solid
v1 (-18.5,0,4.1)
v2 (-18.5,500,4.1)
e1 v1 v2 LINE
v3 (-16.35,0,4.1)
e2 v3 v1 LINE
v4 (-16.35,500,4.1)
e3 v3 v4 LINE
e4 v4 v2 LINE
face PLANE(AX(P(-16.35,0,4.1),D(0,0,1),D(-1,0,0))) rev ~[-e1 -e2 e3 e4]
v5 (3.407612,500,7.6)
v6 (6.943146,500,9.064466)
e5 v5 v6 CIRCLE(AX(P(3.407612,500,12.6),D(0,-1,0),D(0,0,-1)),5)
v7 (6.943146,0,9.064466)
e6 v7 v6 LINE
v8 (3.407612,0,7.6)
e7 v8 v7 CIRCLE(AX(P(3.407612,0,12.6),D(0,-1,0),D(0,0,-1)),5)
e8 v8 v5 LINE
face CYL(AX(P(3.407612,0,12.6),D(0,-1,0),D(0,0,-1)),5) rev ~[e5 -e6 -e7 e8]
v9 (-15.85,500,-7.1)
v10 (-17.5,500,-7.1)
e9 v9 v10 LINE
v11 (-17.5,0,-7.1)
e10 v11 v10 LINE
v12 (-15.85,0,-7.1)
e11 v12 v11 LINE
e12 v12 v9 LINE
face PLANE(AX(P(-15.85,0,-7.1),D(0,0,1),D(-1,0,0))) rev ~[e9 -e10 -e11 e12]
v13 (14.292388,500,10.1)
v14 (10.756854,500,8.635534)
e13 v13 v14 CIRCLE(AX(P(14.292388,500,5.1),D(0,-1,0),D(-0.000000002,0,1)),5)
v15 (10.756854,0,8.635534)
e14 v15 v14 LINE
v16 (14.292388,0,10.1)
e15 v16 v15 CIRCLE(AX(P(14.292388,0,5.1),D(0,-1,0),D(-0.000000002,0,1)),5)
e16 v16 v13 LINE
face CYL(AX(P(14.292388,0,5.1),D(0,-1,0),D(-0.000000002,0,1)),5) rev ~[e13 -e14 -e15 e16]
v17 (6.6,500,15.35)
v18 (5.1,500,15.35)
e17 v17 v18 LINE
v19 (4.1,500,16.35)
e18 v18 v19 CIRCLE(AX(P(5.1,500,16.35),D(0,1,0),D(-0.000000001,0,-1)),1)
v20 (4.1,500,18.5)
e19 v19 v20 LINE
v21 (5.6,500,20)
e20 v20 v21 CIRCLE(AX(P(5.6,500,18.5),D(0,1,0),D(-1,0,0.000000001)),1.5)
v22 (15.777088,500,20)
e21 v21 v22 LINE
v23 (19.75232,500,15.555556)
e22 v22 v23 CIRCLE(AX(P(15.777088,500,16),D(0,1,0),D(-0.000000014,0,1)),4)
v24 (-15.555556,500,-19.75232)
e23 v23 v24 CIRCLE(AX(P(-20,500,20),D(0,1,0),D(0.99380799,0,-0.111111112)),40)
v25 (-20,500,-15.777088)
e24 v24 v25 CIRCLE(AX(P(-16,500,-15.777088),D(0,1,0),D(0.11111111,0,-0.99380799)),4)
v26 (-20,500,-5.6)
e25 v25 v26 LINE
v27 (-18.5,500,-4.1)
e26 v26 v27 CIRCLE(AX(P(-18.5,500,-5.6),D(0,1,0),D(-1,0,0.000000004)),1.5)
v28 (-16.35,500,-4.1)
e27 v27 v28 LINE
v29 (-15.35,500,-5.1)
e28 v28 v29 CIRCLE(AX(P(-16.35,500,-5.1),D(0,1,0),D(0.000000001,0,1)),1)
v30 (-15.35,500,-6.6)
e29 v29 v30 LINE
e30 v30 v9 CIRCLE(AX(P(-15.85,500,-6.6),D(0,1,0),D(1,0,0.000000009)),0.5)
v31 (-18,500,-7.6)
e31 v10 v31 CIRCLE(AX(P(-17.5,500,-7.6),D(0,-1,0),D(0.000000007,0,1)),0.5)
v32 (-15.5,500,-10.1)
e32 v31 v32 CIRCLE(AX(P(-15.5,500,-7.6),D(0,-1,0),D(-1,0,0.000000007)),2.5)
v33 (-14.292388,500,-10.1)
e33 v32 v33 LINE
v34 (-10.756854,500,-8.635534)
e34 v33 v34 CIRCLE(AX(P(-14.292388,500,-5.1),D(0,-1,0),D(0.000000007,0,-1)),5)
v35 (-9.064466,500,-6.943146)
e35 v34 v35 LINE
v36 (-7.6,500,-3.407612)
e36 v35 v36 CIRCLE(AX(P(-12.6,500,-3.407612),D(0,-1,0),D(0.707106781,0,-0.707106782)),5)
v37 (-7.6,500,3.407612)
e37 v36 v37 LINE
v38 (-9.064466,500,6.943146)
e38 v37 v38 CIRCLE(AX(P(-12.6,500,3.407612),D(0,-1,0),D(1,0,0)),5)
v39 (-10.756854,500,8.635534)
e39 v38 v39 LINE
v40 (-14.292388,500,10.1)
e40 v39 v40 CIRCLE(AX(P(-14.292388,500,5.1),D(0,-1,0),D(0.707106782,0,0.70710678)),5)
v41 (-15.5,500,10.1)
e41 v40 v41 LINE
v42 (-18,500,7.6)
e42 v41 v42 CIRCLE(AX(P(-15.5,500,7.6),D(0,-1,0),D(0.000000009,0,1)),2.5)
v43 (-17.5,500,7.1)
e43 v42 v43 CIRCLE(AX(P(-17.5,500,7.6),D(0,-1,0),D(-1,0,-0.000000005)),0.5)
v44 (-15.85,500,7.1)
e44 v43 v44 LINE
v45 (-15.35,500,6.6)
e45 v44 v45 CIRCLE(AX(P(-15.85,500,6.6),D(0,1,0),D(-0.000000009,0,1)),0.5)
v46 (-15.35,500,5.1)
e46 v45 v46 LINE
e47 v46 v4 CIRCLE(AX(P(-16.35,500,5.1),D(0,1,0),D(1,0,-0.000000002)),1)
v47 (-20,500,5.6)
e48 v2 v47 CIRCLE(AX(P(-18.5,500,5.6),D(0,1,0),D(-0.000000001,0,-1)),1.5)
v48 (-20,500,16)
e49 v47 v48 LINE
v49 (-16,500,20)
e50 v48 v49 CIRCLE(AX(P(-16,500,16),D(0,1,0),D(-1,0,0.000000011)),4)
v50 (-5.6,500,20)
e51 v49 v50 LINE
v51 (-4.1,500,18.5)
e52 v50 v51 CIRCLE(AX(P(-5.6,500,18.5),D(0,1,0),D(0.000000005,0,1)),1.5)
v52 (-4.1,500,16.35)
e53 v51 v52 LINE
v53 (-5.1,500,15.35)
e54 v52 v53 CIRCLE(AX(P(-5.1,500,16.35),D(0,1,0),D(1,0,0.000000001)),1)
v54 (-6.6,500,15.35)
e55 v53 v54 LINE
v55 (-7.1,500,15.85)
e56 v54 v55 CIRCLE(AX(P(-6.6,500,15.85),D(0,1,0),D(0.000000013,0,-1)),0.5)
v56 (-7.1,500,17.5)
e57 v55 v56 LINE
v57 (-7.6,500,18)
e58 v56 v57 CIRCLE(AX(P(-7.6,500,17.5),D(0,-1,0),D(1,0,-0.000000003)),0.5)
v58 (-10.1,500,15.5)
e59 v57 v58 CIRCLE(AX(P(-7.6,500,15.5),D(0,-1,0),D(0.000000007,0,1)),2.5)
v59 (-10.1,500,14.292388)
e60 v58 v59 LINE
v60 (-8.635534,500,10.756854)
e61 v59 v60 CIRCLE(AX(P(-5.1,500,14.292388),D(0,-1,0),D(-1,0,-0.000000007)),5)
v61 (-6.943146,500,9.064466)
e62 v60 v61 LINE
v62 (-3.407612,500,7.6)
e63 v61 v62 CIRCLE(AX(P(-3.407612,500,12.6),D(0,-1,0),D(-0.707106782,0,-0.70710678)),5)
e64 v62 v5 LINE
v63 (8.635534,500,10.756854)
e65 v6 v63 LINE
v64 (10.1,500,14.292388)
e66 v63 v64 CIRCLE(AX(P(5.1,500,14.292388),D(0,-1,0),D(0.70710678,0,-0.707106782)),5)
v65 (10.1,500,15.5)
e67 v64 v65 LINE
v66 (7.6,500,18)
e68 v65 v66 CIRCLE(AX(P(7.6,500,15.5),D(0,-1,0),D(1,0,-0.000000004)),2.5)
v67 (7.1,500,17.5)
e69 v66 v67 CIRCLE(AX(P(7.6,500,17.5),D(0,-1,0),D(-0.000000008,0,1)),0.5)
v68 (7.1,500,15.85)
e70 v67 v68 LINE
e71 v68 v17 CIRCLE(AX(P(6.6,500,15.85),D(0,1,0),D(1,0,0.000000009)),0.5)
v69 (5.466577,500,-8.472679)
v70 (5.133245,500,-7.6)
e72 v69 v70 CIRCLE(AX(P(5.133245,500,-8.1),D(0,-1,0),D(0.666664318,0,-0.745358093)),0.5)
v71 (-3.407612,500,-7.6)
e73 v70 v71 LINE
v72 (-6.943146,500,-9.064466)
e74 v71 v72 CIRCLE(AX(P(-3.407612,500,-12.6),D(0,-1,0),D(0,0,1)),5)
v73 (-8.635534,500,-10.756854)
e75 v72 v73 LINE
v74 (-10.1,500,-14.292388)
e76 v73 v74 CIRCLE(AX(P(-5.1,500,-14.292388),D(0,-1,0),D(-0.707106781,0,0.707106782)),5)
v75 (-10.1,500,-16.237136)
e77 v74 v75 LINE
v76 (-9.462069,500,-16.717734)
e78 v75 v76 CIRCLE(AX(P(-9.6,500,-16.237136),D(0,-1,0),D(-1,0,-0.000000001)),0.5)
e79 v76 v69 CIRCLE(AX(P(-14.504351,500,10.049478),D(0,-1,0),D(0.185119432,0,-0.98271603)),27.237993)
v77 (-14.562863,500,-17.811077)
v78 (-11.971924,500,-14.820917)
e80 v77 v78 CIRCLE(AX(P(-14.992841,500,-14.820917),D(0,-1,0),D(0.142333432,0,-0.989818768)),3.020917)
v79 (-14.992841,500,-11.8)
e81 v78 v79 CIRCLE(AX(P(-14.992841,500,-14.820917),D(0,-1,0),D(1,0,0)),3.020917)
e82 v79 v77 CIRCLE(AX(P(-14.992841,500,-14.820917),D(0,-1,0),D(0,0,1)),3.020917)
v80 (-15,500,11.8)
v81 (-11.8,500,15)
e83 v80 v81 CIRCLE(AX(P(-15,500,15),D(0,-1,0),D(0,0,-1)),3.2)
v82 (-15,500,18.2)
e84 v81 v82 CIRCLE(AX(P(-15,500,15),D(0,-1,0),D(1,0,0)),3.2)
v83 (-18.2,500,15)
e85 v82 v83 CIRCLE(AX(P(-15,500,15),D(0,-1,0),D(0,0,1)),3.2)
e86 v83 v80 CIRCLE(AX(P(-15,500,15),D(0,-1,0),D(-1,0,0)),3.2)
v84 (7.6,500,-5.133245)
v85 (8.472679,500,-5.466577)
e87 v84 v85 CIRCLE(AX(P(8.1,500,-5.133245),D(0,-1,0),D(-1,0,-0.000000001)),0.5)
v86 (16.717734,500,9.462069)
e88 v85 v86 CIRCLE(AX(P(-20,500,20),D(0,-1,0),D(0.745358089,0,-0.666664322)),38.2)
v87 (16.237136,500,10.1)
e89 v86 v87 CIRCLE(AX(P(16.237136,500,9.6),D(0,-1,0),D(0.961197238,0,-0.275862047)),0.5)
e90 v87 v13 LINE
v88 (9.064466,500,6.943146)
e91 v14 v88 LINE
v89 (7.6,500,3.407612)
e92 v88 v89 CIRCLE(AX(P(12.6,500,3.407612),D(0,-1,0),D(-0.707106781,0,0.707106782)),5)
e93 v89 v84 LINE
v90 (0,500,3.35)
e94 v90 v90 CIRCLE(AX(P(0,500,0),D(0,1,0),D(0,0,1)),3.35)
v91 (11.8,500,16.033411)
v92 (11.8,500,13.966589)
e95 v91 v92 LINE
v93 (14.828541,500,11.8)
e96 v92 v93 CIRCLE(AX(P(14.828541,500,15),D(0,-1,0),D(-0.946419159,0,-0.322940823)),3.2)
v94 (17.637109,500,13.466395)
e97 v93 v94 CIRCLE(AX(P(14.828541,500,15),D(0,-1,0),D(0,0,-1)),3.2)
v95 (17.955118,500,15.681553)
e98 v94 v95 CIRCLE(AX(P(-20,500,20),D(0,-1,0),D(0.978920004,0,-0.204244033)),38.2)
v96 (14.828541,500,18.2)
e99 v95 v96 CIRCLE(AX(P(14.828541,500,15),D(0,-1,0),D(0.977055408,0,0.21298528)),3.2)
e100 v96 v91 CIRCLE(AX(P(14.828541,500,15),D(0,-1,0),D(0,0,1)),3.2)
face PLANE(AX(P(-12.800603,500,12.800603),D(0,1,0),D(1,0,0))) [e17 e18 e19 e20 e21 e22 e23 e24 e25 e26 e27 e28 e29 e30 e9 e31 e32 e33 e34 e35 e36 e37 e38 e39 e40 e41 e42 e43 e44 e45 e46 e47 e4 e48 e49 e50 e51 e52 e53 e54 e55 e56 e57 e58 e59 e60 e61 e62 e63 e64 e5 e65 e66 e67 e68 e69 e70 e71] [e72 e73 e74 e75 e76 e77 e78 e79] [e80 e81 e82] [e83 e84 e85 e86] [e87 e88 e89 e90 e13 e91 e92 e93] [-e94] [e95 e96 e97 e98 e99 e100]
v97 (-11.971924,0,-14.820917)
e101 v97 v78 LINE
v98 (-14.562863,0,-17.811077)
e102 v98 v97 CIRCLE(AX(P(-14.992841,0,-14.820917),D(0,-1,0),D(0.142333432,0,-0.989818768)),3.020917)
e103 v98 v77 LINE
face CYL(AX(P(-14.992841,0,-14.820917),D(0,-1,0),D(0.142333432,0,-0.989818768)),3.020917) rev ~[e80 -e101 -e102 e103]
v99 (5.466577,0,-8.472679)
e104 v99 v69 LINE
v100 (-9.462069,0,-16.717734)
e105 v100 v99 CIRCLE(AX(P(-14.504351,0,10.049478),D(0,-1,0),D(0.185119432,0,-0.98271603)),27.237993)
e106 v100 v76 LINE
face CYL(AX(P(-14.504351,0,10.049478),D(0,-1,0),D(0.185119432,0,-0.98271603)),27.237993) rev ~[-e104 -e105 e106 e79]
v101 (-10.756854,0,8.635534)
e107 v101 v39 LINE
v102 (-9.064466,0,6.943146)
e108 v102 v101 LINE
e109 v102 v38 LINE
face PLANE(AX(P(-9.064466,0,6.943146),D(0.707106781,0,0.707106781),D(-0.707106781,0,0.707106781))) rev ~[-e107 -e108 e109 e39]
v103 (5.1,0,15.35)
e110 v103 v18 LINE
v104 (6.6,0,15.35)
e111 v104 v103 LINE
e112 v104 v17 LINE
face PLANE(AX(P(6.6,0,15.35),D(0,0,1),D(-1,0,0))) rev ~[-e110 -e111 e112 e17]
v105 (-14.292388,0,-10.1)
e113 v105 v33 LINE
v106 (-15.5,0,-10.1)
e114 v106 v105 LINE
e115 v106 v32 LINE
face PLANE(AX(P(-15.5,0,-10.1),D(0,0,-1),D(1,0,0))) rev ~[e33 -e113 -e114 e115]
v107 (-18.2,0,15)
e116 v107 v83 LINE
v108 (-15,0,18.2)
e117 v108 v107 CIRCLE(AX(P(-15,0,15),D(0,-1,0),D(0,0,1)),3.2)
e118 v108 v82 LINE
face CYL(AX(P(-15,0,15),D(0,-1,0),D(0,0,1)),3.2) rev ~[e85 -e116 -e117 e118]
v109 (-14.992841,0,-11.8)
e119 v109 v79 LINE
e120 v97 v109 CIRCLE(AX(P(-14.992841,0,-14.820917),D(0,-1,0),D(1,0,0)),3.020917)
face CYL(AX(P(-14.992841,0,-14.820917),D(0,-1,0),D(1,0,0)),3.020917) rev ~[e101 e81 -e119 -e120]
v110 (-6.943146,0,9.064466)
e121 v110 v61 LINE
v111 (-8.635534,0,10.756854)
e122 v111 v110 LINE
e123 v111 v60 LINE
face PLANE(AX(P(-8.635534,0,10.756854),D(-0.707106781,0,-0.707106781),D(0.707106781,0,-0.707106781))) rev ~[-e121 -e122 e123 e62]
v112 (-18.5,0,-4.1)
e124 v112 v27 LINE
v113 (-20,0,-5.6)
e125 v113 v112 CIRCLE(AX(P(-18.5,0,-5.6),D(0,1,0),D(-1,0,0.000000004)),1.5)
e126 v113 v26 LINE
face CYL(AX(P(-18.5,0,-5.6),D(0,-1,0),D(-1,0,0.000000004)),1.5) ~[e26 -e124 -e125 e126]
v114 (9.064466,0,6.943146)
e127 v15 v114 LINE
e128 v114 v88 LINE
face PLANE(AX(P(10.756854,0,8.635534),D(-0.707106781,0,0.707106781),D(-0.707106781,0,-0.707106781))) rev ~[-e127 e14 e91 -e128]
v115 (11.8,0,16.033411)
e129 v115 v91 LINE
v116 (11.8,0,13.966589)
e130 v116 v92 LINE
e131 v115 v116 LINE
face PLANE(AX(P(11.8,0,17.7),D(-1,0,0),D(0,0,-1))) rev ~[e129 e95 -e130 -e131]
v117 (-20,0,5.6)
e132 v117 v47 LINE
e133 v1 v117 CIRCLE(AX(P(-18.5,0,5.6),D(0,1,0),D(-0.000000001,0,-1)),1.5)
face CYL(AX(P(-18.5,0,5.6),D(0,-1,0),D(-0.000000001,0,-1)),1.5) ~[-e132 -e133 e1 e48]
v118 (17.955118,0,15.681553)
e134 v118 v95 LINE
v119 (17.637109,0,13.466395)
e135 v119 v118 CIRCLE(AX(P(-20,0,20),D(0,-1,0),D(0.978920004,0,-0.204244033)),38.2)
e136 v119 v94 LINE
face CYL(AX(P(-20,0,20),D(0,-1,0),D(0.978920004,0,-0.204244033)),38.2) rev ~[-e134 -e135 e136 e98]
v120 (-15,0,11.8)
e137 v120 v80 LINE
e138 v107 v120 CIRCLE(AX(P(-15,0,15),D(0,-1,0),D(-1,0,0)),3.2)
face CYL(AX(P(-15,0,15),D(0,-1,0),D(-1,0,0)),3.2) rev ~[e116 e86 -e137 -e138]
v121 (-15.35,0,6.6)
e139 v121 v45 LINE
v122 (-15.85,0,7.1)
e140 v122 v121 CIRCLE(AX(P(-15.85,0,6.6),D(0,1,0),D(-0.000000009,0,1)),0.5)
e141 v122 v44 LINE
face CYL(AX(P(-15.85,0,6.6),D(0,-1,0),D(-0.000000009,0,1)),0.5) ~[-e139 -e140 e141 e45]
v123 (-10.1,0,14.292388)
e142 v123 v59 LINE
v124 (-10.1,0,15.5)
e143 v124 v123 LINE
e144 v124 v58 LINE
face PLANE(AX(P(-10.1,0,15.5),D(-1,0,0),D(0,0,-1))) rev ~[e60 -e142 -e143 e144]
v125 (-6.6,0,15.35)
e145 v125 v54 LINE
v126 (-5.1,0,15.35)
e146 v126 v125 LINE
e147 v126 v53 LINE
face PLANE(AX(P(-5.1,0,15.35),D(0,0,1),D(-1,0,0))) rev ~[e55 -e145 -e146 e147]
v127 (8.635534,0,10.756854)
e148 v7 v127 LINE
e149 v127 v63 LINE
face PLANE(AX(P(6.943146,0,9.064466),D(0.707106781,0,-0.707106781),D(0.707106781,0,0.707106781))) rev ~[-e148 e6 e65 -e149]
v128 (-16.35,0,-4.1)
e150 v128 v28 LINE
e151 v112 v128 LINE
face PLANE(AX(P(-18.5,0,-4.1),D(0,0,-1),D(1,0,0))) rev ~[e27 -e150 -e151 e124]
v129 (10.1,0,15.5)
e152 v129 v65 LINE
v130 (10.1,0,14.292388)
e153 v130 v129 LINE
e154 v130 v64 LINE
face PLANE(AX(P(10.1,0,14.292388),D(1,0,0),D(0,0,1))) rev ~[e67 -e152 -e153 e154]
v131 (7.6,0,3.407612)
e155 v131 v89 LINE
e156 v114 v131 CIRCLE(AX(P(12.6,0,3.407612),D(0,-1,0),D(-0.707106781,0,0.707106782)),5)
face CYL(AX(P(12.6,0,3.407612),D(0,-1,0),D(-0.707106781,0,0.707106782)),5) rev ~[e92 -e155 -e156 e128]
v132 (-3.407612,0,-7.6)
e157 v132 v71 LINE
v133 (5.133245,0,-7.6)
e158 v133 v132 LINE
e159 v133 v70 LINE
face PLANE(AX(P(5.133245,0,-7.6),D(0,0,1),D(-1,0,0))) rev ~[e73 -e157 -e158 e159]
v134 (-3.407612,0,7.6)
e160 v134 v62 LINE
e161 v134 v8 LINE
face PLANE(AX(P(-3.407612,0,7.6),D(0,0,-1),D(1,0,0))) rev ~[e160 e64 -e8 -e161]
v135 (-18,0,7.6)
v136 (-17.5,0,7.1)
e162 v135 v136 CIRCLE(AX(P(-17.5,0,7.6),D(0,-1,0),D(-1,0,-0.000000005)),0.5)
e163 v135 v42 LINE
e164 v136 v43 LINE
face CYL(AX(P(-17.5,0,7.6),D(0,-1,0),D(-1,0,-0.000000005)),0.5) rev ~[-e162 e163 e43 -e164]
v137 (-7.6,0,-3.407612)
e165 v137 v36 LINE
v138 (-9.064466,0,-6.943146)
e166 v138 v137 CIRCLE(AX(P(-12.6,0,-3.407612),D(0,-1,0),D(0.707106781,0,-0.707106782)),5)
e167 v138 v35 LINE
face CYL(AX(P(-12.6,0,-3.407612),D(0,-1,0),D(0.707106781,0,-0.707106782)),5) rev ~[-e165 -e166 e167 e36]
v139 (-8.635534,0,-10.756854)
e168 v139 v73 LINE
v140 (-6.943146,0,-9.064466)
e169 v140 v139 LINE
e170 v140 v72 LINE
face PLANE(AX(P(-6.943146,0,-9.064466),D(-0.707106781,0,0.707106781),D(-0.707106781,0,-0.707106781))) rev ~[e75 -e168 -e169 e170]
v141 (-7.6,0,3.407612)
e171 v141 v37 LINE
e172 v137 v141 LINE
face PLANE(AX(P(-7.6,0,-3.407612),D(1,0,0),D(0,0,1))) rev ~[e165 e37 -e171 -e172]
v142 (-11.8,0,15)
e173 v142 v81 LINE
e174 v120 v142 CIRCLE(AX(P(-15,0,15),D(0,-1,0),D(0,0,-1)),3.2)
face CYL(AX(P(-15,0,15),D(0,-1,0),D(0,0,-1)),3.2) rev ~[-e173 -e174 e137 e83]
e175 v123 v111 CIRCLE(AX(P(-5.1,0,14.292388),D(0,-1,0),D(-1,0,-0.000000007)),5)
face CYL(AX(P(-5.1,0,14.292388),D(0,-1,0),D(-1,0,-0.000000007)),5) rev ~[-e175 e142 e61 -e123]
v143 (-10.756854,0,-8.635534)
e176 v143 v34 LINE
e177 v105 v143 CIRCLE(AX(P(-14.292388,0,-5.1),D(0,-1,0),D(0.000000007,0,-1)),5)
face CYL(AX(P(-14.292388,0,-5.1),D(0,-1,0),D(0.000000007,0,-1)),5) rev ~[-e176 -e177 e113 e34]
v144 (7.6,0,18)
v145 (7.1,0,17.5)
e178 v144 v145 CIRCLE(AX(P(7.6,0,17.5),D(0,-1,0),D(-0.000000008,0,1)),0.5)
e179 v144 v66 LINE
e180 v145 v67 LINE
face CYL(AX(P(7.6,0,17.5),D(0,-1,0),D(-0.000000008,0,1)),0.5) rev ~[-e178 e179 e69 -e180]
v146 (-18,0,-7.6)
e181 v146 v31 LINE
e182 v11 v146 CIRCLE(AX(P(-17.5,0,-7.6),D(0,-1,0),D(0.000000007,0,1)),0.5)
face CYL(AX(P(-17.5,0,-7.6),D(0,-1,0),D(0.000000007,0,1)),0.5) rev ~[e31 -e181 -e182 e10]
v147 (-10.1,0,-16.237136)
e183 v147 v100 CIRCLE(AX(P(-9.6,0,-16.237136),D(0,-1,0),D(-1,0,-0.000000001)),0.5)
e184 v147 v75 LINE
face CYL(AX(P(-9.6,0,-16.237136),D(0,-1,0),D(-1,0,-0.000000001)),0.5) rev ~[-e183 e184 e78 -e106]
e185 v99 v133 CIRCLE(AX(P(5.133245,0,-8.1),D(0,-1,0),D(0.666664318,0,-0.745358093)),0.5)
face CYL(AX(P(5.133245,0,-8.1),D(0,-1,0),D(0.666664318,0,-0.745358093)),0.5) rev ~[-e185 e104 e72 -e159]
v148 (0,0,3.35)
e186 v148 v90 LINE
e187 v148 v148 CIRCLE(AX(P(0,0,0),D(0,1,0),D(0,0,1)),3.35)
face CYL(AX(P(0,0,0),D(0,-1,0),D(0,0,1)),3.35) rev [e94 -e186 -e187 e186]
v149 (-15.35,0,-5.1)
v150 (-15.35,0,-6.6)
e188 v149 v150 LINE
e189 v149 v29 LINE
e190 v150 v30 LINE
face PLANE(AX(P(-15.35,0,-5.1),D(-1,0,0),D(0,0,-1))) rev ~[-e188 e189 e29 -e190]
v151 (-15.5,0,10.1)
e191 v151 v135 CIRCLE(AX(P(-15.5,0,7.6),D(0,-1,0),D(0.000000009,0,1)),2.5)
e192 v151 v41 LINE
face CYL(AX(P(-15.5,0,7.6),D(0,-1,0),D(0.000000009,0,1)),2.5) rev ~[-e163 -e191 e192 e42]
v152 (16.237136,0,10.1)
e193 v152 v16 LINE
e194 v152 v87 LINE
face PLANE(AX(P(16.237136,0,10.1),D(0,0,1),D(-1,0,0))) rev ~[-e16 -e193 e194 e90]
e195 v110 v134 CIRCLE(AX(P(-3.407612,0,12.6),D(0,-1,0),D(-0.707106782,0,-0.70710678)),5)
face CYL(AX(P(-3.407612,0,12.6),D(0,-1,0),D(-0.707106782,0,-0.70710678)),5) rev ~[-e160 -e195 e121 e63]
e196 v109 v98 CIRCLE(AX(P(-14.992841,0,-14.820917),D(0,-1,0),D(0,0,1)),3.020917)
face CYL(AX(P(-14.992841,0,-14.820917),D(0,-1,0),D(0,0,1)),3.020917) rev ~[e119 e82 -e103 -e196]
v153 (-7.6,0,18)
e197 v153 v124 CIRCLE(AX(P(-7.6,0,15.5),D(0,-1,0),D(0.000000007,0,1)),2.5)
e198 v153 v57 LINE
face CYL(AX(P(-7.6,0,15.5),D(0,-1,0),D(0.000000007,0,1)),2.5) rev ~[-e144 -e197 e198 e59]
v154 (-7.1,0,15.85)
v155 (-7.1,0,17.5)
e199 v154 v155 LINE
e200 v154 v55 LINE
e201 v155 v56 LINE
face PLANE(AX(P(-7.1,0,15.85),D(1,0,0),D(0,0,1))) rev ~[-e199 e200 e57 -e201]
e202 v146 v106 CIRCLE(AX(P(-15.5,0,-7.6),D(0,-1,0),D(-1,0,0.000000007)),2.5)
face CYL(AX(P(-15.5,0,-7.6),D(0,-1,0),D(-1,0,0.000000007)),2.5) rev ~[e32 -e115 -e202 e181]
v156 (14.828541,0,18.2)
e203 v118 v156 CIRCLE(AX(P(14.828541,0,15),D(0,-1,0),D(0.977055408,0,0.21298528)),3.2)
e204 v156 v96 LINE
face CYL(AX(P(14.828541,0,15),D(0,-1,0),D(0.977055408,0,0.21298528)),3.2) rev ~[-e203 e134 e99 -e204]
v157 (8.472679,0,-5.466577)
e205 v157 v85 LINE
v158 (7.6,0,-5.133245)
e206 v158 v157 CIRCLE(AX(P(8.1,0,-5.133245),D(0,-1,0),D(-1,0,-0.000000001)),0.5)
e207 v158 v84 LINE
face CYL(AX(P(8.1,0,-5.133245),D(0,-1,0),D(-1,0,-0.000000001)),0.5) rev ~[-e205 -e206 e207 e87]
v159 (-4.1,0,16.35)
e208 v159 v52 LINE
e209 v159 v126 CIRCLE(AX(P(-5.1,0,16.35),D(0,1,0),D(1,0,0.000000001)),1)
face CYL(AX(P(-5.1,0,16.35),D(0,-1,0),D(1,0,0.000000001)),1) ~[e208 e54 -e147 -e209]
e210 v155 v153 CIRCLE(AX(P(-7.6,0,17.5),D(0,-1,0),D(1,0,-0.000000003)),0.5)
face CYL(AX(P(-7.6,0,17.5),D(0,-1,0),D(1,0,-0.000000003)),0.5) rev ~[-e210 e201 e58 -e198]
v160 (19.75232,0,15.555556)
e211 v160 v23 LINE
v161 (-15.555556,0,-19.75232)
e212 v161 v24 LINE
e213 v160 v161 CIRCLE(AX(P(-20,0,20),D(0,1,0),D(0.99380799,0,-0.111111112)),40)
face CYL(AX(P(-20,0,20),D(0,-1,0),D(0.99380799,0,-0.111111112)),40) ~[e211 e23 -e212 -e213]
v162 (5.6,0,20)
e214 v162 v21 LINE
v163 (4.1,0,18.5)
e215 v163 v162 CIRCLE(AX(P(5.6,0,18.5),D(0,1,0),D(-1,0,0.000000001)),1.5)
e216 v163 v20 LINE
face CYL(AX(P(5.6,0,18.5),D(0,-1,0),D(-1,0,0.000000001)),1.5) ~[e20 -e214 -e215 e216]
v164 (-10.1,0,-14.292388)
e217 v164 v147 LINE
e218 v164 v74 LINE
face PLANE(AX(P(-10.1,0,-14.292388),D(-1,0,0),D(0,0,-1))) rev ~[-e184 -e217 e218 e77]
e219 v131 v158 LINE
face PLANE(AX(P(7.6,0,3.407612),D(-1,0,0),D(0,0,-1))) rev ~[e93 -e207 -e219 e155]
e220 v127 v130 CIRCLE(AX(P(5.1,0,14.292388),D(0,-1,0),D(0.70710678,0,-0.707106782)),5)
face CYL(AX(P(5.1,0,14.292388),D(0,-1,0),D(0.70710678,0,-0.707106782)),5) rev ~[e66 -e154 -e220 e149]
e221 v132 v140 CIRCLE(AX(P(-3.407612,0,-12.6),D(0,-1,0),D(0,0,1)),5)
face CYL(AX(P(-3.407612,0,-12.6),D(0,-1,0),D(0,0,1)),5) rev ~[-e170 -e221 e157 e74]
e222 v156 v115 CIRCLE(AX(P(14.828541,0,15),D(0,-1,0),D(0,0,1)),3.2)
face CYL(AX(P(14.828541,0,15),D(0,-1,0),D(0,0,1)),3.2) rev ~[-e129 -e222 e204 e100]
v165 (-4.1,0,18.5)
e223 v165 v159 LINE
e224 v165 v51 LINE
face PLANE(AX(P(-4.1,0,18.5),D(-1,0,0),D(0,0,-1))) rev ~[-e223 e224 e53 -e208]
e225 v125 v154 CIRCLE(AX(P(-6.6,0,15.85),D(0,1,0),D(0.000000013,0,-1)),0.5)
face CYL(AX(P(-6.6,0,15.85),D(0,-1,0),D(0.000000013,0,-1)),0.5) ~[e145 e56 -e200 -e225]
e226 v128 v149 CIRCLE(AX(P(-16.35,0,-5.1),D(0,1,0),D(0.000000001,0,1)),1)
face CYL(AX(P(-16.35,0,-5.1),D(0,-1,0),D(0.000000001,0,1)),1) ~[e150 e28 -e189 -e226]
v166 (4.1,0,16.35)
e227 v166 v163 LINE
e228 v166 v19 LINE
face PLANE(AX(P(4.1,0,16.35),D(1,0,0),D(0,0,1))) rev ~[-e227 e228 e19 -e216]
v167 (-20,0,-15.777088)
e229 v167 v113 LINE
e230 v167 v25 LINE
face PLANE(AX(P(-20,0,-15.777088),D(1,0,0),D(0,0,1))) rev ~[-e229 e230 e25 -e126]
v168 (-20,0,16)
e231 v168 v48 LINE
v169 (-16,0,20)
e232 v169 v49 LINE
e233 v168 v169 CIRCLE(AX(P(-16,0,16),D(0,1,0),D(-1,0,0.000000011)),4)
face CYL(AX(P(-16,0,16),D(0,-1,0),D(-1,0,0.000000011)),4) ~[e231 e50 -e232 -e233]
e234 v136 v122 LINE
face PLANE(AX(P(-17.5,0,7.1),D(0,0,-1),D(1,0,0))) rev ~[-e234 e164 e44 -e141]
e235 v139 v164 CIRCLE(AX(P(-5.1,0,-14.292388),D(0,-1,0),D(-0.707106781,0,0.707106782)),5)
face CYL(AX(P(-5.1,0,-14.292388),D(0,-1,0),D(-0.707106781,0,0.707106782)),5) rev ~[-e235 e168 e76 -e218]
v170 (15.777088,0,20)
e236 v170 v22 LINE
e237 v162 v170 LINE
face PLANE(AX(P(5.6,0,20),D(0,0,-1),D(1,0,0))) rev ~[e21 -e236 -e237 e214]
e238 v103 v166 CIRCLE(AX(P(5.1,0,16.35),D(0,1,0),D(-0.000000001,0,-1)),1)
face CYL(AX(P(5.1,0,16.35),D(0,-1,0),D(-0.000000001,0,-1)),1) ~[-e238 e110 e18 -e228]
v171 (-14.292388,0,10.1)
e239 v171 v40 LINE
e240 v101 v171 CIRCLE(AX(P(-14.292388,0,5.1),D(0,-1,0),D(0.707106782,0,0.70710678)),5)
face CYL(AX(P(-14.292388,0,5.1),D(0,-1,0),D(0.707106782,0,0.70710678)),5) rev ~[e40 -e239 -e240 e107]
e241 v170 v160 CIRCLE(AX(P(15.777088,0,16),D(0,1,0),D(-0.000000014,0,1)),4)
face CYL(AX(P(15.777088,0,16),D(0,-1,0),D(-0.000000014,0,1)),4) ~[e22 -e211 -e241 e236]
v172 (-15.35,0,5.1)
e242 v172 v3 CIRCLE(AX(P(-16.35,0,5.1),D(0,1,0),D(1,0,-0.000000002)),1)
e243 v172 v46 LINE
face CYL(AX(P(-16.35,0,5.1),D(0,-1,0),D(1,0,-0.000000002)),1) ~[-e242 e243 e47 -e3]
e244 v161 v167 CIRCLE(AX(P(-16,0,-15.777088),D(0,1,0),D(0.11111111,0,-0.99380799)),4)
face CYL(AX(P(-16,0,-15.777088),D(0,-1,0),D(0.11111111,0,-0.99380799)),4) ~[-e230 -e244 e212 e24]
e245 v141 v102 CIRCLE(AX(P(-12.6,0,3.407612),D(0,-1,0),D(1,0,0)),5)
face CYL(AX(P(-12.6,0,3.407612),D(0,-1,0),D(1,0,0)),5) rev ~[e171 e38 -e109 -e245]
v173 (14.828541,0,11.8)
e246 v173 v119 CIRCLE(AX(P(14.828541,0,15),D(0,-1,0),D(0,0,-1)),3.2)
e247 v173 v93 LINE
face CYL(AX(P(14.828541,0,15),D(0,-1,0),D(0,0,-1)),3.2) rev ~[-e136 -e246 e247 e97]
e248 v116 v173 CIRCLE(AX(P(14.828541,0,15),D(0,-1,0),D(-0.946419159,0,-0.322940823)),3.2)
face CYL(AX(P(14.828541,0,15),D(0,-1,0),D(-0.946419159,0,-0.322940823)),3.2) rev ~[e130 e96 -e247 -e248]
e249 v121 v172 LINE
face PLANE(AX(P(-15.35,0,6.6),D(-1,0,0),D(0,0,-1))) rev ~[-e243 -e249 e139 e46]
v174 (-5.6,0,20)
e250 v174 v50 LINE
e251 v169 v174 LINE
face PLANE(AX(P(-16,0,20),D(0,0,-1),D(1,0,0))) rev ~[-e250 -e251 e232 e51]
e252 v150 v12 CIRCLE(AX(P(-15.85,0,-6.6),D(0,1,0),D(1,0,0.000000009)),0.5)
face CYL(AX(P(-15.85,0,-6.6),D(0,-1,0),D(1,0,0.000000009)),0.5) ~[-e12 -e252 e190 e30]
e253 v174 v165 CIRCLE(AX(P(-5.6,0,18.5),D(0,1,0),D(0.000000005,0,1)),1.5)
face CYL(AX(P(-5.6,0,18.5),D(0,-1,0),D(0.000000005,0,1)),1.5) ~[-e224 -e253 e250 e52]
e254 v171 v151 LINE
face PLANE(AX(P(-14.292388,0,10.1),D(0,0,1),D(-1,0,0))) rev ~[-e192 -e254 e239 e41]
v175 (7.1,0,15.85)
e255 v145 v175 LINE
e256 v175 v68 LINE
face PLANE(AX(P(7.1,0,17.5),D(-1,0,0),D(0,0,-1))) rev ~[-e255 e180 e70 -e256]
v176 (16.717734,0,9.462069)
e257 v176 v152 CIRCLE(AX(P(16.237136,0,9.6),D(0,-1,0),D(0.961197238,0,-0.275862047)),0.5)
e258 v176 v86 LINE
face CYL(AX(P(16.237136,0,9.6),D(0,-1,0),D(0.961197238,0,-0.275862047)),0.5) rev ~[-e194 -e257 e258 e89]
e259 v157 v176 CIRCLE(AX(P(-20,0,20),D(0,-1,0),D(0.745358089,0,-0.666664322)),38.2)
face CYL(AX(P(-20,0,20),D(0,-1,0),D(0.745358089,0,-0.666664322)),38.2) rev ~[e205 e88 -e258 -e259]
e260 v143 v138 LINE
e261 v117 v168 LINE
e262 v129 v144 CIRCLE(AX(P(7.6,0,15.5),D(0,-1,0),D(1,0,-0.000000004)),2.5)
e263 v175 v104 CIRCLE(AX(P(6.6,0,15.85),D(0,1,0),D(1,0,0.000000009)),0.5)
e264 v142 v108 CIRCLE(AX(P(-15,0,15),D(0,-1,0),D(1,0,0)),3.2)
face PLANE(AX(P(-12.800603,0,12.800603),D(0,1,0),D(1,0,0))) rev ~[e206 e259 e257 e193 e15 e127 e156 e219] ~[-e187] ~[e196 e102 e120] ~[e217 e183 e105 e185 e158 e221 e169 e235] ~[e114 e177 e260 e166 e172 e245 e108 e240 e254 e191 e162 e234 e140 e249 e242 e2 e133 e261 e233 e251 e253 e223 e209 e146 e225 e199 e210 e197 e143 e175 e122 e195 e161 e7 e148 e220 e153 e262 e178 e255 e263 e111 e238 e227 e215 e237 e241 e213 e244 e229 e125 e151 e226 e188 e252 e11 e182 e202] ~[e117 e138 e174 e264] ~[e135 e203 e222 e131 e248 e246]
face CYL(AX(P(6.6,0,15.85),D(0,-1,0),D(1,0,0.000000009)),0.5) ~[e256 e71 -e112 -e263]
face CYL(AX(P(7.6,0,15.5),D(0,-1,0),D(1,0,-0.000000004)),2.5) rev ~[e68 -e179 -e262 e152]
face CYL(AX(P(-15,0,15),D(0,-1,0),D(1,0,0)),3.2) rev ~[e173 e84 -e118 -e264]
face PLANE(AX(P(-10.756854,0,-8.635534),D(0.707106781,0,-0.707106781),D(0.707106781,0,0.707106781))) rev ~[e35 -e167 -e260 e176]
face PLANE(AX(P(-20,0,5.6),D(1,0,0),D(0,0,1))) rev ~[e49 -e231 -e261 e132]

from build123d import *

# Parameters (mm, degrees)
CROQUIS1_R              = 3.35
SALIENTE_EXTRUIR1_DEPTH = 500
SALIENTE_EXTRUIR2_START = -500
SALIENTE_EXTRUIR2_DEPTH = 500


with BuildPart() as part:
    # Croquis1 → Saliente-Extruir1 (new body)
    with BuildSketch(Plane(origin=(0, 0, 0), x_dir=(1, 0, 0), z_dir=(0, 1, 0))):
        with BuildLine():
            Line((4.099999986, -16.349999949), (4.099999986, -18.499999949))
            ThreePointArc((4.099999986, -18.499999949), (4.539339815, -19.560660121), (5.599999987, -19.999999949))
            Line((5.599999987, -19.999999949), (15.777087623, -19.999999949))
            ThreePointArc((15.777087623, -19.999999949), (18.758511608, -18.66666665), (19.752319619, -15.555555546))
            ThreePointArc((19.752319619, -15.555555546), (8.284271243, 8.284271252), (-15.555555578, 19.752319582))
            ThreePointArc((-15.555555578, 19.752319582), (-18.666666685, 18.758511591), (-20.000000016, 15.777087623))
            Line((-20.000000016, 15.777087623), (-20.000000016, 5.599999985))
            ThreePointArc((-20.000000016, 5.599999985), (-19.560660185, 4.539339815), (-18.500000013, 4.099999988))
            Line((-18.500000013, 4.099999988), (-16.350000012, 4.099999988))
            ThreePointArc((-16.350000012, 4.099999988), (-15.642893231, 4.392893207), (-15.350000012, 5.099999988))
            Line((-15.350000012, 5.099999988), (-15.350000012, 6.599999984))
            ThreePointArc((-15.350000012, 6.599999984), (-15.49644662, 6.953553378), (-15.850000012, 7.099999989))
            Line((-15.850000012, 7.099999989), (-17.500000009, 7.099999989))
            ThreePointArc((-17.500000009, 7.099999989), (-17.853553401, 7.246446596), (-18.000000013, 7.599999985))
            ThreePointArc((-18.000000013, 7.599999985), (-17.267766972, 9.36776695), (-15.500000013, 10.100000003))
            Line((-15.500000013, 10.100000003), (-14.292388135, 10.100000003))
            ThreePointArc((-14.292388135, 10.100000003), (-12.378970991, 9.719397659), (-10.756854262, 8.635533909))
            Line((-10.756854262, 8.635533909), (-9.064466108, 6.943145756))
            ThreePointArc((-9.064466108, 6.943145756), (-7.980602349, 5.32102901), (-7.60000001, 3.407611846))
            Line((-7.60000001, 3.407611846), (-7.60000001, -3.407611843))
            ThreePointArc((-7.60000001, -3.407611843), (-7.980602347, -5.321029004), (-9.064466104, -6.943145748))
            Line((-9.064466104, -6.943145748), (-10.756854257, -8.635533901))
            ThreePointArc((-10.756854257, -8.635533901), (-12.378971003, -9.719397661), (-14.292388167, -10.099999999))
            Line((-14.292388167, -10.099999999), (-15.499999985, -10.099999999))
            ThreePointArc((-15.499999985, -10.099999999), (-17.267766956, -9.367766956), (-18.000000007, -7.599999987))
            ThreePointArc((-18.000000007, -7.599999987), (-17.853553397, -7.246446598), (-17.500000007, -7.099999989))
            Line((-17.500000007, -7.099999989), (-15.850000011, -7.099999989))
            ThreePointArc((-15.850000011, -7.099999989), (-15.496446618, -6.953553381), (-15.350000008, -6.599999989))
            Line((-15.350000008, -6.599999989), (-15.350000008, -5.099999989))
            ThreePointArc((-15.350000008, -5.099999989), (-15.642893227, -4.392893209), (-16.350000008, -4.09999999))
            Line((-16.350000008, -4.09999999), (-18.500000008, -4.09999999))
            ThreePointArc((-18.500000008, -4.09999999), (-19.56066018, -4.539339819), (-20.000000008, -5.599999991))
            Line((-20.000000008, -5.599999991), (-20.000000008, -15.999999939))
            ThreePointArc((-20.000000008, -15.999999939), (-18.828427101, -18.828427077), (-15.999999951, -19.999999954))
            Line((-15.999999951, -19.999999954), (-5.599999986, -19.999999954))
            ThreePointArc((-5.599999986, -19.999999954), (-4.539339818, -19.560660123), (-4.099999992, -18.499999954))
            Line((-4.099999992, -18.499999954), (-4.099999992, -16.349999953))
            ThreePointArc((-4.099999992, -16.349999953), (-4.392893211, -15.642893171), (-5.099999992, -15.349999953))
            Line((-5.099999992, -15.349999953), (-6.599999988, -15.349999953))
            ThreePointArc((-6.599999988, -15.349999953), (-6.953553382, -15.49644656), (-7.099999993, -15.849999953))
            Line((-7.099999993, -15.849999953), (-7.099999993, -17.499999952))
            ThreePointArc((-7.099999993, -17.499999952), (-7.2464466, -17.853553342), (-7.599999989, -17.999999954))
            ThreePointArc((-7.599999989, -17.999999954), (-9.367766954, -17.267766913), (-10.100000007, -15.499999954))
            Line((-10.100000007, -15.499999954), (-10.100000007, -14.292388076))
            ThreePointArc((-10.100000007, -14.292388076), (-9.719397663, -12.378970931), (-8.635533913, -10.756854202))
            Line((-8.635533913, -10.756854202), (-6.94314576, -9.064466049))
            ThreePointArc((-6.94314576, -9.064466049), (-5.321029014, -7.980602289), (-3.40761185, -7.599999951))
            Line((-3.40761185, -7.599999951), (3.407611837, -7.599999951))
            ThreePointArc((3.407611837, -7.599999951), (5.321028999, -7.980602288), (6.943145744, -9.064466044))
            Line((6.943145744, -9.064466044), (8.635533897, -10.756854198))
            ThreePointArc((8.635533897, -10.756854198), (9.719397657, -12.378970943), (10.099999995, -14.292388108))
            Line((10.099999995, -14.292388108), (10.099999995, -15.499999937))
            ThreePointArc((10.099999995, -15.499999937), (9.367766948, -17.267766901), (7.599999983, -17.999999948))
            ThreePointArc((7.599999983, -17.999999948), (7.246446594, -17.853553337), (7.099999985, -17.499999948))
            Line((7.099999985, -17.499999948), (7.099999985, -15.849999952))
            ThreePointArc((7.099999985, -15.849999952), (6.953553377, -15.496446559), (6.599999985, -15.349999949))
            Line((6.599999985, -15.349999949), (5.099999986, -15.349999949))
            ThreePointArc((5.099999986, -15.349999949), (4.392893205, -15.642893168), (4.099999986, -16.349999949))
        make_face()
        with Locations(Location((0, 0, 0), (0, 0, 270))):
            Circle(CROQUIS1_R, mode=Mode.SUBTRACT)
        with BuildLine():
            Line((-18.200000016, 12.299999981), (-18.200000016, 15.777087623))
            ThreePointArc((-18.200000016, 15.777087623), (-17.466666684, 17.416870805), (-15.755555575, 17.963465201))
            ThreePointArc((-15.755555575, 17.963465201), (-13.970008189, 17.721071), (-12.197878052, 17.394744174))
            ThreePointArc((-12.197878052, 17.394744174), (-11.91201741, 17.22067196), (-11.800000067, 16.905284013))
            Line((-11.800000067, 16.905284013), (-11.800000067, 12.299999704))
            ThreePointArc((-11.800000067, 12.299999704), (-11.946446503, 11.946446622), (-12.299999521, 11.800000031))
            Line((-12.299999521, 11.800000031), (-17.700000056, 11.800000031))
            ThreePointArc((-17.700000056, 11.800000031), (-18.053553418, 11.946446622), (-18.200000016, 12.299999981))
        make_face(mode=Mode.SUBTRACT)
        with BuildLine():
            Line((11.800000005, -17.699999962), (11.800000005, -12.299999803))
            ThreePointArc((11.800000005, -12.299999803), (11.946446442, -11.946446721), (12.299999459, -11.80000013))
            Line((12.299999459, -11.80000013), (16.905284227, -11.80000013))
            ThreePointArc((16.905284227, -11.80000013), (17.220672032, -11.912017476), (17.394744196, -12.197877993))
            ThreePointArc((17.394744196, -12.197877993), (17.721071033, -13.970008163), (17.963465241, -15.755555583))
            ThreePointArc((17.963465241, -15.755555583), (17.416870817, -17.466666655), (15.777087646, -18.199999948))
            Line((15.777087646, -18.199999948), (12.300000016, -18.199999948))
            ThreePointArc((12.300000016, -18.199999948), (11.946446626, -18.053553344), (11.800000005, -17.699999962))
        make_face(mode=Mode.SUBTRACT)
        with BuildLine():
            Line((-18.200000037, -15.999999938), (-18.200000037, -12.29999998))
            ThreePointArc((-18.200000037, -12.29999998), (-18.053553433, -11.94644659), (-17.70000005, -11.799999969))
            Line((-17.70000005, -11.799999969), (-12.299999814, -11.799999969))
            ThreePointArc((-12.299999814, -11.799999969), (-11.946446646, -11.946446393), (-11.800000043, -12.299999487))
            Line((-11.800000043, -12.299999487), (-11.800000043, -17.700000023))
            ThreePointArc((-11.800000043, -17.700000023), (-11.946446635, -18.053553384), (-12.299999994, -18.199999983))
            Line((-12.299999994, -18.199999983), (-15.999999951, -18.199999983))
            ThreePointArc((-15.999999951, -18.199999983), (-17.555634915, -17.555634891), (-18.200000037, -15.999999938))
        make_face(mode=Mode.SUBTRACT)
        with BuildLine():
            Line((-10.100000018, 14.292388152), (-10.100000018, 16.237135643))
            ThreePointArc((-10.100000018, 16.237135643), (-9.900860854, 16.636488564), (-9.462068989, 16.717734255))
            ThreePointArc((-9.462068989, 16.717734255), (-1.335812596, 13.79371517), (5.466577064, 8.472679041))
            ThreePointArc((5.466577064, 8.472679041), (5.600331365, 7.921589685), (5.133244904, 7.599999995))
            Line((5.133244904, 7.599999995), (-3.407611859, 7.599999995))
            ThreePointArc((-3.407611859, 7.599999995), (-5.321029022, 7.980602332), (-6.943145766, 9.064466088))
            Line((-6.943145766, 9.064466088), (-8.63553392, 10.756854242))
            ThreePointArc((-8.63553392, 10.756854242), (-9.719397679, 12.378970987), (-10.100000018, 14.292388152))
        make_face(mode=Mode.SUBTRACT)
        with BuildLine():
            Line((16.237135661, -10.099999987), (14.292388142, -10.099999987))
            ThreePointArc((14.292388142, -10.099999987), (12.378970987, -9.719397647), (10.75685425, -8.635533892))
            Line((10.75685425, -8.635533892), (9.064466096, -6.943145739))
            ThreePointArc((9.064466096, -6.943145739), (7.980602337, -5.321028994), (7.599999998, -3.407611829))
            Line((7.599999998, -3.407611829), (7.599999998, 5.133244926))
            ThreePointArc((7.599999998, 5.133244926), (7.921589687, 5.600331384), (8.472679039, 5.466577086))
            ThreePointArc((8.472679039, 5.466577086), (13.438953564, -1.531746557), (16.71773428, -9.462068964))
            ThreePointArc((16.71773428, -9.462068964), (16.636488582, -9.900860826), (16.237135661, -10.099999987))
        make_face(mode=Mode.SUBTRACT)
    extrude(amount=SALIENTE_EXTRUIR1_DEPTH)

    # Croquis2 → Saliente-Extruir2 (add)
    with BuildSketch(Plane(origin=(0, 500, 0), x_dir=(1, 0, 0), z_dir=(0, 1, 0)).offset(SALIENTE_EXTRUIR2_START)):
        with BuildLine():
            ThreePointArc((-15.00000005, -11.799999969), (-12.737258345, -12.737258271), (-11.800000043, -14.999999976))
            Line((-11.800000043, -14.999999976), (-11.800000043, -12.299999487))
            ThreePointArc((-11.800000043, -12.299999487), (-11.946446646, -11.946446393), (-12.299999814, -11.799999969))
            Line((-12.299999814, -11.799999969), (-15.00000005, -11.799999969))
        make_face()
        with BuildLine():
            ThreePointArc((-11.800000043, -14.999999976), (-12.737258345, -17.26274168), (-15.00000005, -18.199999983))
            Line((-15.00000005, -18.199999983), (-12.299999994, -18.199999983))
            ThreePointArc((-12.299999994, -18.199999983), (-11.946446635, -18.053553384), (-11.800000043, -17.700000023))
            Line((-11.800000043, -17.700000023), (-11.800000043, -14.999999976))
        make_face()
        with BuildLine():
            ThreePointArc((-18.200000037, -15.999999938), (-17.555634915, -17.555634891), (-15.999999951, -18.199999983))
            Line((-15.999999951, -18.199999983), (-15.00000005, -18.199999983))
            ThreePointArc((-15.00000005, -18.199999983), (-17.262741755, -17.26274168), (-18.200000057, -14.999999976))
            Line((-18.200000037, -14.999999976), (-18.200000037, -15.999999938))
        make_face()
        with BuildLine():
            Line((-18.200000037, -12.29999998), (-18.200000037, -14.999999976))
            ThreePointArc((-18.200000057, -14.999999976), (-17.262741755, -12.737258271), (-15.00000005, -11.799999969))
            Line((-15.00000005, -11.799999969), (-17.70000005, -11.799999969))
            ThreePointArc((-17.70000005, -11.799999969), (-18.053553433, -11.94644659), (-18.200000037, -12.29999998))
        make_face()
        with BuildLine():
            ThreePointArc((-15.755555575, 17.963465201), (-17.466666684, 17.416870805), (-18.200000016, 15.777087623))
            Line((-18.200000016, 15.777087623), (-18.200000016, 12.299999981))
            ThreePointArc((-18.200000016, 12.299999981), (-18.053553418, 11.946446622), (-17.700000056, 11.800000031))
            Line((-17.700000056, 11.800000031), (-14.992840663, 11.800000031))
            ThreePointArc((-14.992840663, 11.800000031), (-18.006058488, 15.03645487), (-14.562863205, 17.811076975))
            ThreePointArc((-14.562863205, 17.811076975), (-15.158609779, 17.891964046), (-15.755555575, 17.963465201))
        make_face()
        with BuildLine():
            ThreePointArc((-12.197878052, 17.394744174), (-13.37709835, 17.621498805), (-14.562863205, 17.811076975))
            ThreePointArc((-14.562863205, 17.811076975), (-12.709765496, 16.799175178), (-11.971923864, 14.82091683))
            ThreePointArc((-11.971923864, 14.82091683), (-12.856729909, 12.684806076), (-14.992840663, 11.800000031))
            Line((-14.992840663, 11.800000031), (-12.299999521, 11.800000031))
            ThreePointArc((-12.299999521, 11.800000031), (-11.946446503, 11.946446622), (-11.800000067, 12.299999704))
            Line((-11.800000067, 12.299999704), (-11.800000067, 16.905284013))
            ThreePointArc((-11.800000067, 16.905284013), (-11.91201741, 17.22067196), (-12.197878052, 17.394744174))
        make_face()
        with BuildLine():
            Line((16.905284227, -11.80000013), (14.828541229, -11.80000013))
            ThreePointArc((14.828541229, -11.80000013), (16.461401303, -12.247952184), (17.637109474, -13.466395191))
            ThreePointArc((17.637109474, -13.466395191), (17.521287961, -12.831112285), (17.394744196, -12.197877993))
            ThreePointArc((17.394744196, -12.197877993), (17.220672032, -11.912017476), (16.905284227, -11.80000013))
        make_face()
        with BuildLine():
            Line((11.800000005, -12.299999803), (11.800000005, -13.966589436))
            ThreePointArc((11.800000005, -13.966589436), (12.966675823, -12.397413513), (14.828541229, -11.80000013))
            Line((14.828541229, -11.80000013), (12.299999459, -11.80000013))
            ThreePointArc((12.299999459, -11.80000013), (11.946446442, -11.946446721), (11.800000005, -12.299999803))
        make_face()
        with BuildLine():
            ThreePointArc((11.800000005, -17.699999962), (11.946446626, -18.053553344), (12.300000016, -18.199999948))
            Line((12.300000016, -18.199999948), (14.828541229, -18.199999948))
            ThreePointArc((14.828541229, -18.199999948), (12.966675823, -17.602586565), (11.800000005, -16.033410642))
            Line((11.800000005, -16.033410642), (11.800000005, -17.699999962))
        make_face()
        with BuildLine():
            ThreePointArc((17.955118446, -15.681552916), (16.835906452, -17.492084364), (14.828541229, -18.199999948))
            Line((14.828541229, -18.199999948), (15.777087646, -18.199999948))
            ThreePointArc((15.777087646, -18.199999948), (17.416870817, -17.466666655), (17.963465241, -15.755555583))
            ThreePointArc((17.963465241, -15.755555583), (17.959309877, -15.718552215), (17.955118446, -15.681552916))
        make_face()
    extrude(amount=SALIENTE_EXTRUIR2_DEPTH)


solid = part.part
